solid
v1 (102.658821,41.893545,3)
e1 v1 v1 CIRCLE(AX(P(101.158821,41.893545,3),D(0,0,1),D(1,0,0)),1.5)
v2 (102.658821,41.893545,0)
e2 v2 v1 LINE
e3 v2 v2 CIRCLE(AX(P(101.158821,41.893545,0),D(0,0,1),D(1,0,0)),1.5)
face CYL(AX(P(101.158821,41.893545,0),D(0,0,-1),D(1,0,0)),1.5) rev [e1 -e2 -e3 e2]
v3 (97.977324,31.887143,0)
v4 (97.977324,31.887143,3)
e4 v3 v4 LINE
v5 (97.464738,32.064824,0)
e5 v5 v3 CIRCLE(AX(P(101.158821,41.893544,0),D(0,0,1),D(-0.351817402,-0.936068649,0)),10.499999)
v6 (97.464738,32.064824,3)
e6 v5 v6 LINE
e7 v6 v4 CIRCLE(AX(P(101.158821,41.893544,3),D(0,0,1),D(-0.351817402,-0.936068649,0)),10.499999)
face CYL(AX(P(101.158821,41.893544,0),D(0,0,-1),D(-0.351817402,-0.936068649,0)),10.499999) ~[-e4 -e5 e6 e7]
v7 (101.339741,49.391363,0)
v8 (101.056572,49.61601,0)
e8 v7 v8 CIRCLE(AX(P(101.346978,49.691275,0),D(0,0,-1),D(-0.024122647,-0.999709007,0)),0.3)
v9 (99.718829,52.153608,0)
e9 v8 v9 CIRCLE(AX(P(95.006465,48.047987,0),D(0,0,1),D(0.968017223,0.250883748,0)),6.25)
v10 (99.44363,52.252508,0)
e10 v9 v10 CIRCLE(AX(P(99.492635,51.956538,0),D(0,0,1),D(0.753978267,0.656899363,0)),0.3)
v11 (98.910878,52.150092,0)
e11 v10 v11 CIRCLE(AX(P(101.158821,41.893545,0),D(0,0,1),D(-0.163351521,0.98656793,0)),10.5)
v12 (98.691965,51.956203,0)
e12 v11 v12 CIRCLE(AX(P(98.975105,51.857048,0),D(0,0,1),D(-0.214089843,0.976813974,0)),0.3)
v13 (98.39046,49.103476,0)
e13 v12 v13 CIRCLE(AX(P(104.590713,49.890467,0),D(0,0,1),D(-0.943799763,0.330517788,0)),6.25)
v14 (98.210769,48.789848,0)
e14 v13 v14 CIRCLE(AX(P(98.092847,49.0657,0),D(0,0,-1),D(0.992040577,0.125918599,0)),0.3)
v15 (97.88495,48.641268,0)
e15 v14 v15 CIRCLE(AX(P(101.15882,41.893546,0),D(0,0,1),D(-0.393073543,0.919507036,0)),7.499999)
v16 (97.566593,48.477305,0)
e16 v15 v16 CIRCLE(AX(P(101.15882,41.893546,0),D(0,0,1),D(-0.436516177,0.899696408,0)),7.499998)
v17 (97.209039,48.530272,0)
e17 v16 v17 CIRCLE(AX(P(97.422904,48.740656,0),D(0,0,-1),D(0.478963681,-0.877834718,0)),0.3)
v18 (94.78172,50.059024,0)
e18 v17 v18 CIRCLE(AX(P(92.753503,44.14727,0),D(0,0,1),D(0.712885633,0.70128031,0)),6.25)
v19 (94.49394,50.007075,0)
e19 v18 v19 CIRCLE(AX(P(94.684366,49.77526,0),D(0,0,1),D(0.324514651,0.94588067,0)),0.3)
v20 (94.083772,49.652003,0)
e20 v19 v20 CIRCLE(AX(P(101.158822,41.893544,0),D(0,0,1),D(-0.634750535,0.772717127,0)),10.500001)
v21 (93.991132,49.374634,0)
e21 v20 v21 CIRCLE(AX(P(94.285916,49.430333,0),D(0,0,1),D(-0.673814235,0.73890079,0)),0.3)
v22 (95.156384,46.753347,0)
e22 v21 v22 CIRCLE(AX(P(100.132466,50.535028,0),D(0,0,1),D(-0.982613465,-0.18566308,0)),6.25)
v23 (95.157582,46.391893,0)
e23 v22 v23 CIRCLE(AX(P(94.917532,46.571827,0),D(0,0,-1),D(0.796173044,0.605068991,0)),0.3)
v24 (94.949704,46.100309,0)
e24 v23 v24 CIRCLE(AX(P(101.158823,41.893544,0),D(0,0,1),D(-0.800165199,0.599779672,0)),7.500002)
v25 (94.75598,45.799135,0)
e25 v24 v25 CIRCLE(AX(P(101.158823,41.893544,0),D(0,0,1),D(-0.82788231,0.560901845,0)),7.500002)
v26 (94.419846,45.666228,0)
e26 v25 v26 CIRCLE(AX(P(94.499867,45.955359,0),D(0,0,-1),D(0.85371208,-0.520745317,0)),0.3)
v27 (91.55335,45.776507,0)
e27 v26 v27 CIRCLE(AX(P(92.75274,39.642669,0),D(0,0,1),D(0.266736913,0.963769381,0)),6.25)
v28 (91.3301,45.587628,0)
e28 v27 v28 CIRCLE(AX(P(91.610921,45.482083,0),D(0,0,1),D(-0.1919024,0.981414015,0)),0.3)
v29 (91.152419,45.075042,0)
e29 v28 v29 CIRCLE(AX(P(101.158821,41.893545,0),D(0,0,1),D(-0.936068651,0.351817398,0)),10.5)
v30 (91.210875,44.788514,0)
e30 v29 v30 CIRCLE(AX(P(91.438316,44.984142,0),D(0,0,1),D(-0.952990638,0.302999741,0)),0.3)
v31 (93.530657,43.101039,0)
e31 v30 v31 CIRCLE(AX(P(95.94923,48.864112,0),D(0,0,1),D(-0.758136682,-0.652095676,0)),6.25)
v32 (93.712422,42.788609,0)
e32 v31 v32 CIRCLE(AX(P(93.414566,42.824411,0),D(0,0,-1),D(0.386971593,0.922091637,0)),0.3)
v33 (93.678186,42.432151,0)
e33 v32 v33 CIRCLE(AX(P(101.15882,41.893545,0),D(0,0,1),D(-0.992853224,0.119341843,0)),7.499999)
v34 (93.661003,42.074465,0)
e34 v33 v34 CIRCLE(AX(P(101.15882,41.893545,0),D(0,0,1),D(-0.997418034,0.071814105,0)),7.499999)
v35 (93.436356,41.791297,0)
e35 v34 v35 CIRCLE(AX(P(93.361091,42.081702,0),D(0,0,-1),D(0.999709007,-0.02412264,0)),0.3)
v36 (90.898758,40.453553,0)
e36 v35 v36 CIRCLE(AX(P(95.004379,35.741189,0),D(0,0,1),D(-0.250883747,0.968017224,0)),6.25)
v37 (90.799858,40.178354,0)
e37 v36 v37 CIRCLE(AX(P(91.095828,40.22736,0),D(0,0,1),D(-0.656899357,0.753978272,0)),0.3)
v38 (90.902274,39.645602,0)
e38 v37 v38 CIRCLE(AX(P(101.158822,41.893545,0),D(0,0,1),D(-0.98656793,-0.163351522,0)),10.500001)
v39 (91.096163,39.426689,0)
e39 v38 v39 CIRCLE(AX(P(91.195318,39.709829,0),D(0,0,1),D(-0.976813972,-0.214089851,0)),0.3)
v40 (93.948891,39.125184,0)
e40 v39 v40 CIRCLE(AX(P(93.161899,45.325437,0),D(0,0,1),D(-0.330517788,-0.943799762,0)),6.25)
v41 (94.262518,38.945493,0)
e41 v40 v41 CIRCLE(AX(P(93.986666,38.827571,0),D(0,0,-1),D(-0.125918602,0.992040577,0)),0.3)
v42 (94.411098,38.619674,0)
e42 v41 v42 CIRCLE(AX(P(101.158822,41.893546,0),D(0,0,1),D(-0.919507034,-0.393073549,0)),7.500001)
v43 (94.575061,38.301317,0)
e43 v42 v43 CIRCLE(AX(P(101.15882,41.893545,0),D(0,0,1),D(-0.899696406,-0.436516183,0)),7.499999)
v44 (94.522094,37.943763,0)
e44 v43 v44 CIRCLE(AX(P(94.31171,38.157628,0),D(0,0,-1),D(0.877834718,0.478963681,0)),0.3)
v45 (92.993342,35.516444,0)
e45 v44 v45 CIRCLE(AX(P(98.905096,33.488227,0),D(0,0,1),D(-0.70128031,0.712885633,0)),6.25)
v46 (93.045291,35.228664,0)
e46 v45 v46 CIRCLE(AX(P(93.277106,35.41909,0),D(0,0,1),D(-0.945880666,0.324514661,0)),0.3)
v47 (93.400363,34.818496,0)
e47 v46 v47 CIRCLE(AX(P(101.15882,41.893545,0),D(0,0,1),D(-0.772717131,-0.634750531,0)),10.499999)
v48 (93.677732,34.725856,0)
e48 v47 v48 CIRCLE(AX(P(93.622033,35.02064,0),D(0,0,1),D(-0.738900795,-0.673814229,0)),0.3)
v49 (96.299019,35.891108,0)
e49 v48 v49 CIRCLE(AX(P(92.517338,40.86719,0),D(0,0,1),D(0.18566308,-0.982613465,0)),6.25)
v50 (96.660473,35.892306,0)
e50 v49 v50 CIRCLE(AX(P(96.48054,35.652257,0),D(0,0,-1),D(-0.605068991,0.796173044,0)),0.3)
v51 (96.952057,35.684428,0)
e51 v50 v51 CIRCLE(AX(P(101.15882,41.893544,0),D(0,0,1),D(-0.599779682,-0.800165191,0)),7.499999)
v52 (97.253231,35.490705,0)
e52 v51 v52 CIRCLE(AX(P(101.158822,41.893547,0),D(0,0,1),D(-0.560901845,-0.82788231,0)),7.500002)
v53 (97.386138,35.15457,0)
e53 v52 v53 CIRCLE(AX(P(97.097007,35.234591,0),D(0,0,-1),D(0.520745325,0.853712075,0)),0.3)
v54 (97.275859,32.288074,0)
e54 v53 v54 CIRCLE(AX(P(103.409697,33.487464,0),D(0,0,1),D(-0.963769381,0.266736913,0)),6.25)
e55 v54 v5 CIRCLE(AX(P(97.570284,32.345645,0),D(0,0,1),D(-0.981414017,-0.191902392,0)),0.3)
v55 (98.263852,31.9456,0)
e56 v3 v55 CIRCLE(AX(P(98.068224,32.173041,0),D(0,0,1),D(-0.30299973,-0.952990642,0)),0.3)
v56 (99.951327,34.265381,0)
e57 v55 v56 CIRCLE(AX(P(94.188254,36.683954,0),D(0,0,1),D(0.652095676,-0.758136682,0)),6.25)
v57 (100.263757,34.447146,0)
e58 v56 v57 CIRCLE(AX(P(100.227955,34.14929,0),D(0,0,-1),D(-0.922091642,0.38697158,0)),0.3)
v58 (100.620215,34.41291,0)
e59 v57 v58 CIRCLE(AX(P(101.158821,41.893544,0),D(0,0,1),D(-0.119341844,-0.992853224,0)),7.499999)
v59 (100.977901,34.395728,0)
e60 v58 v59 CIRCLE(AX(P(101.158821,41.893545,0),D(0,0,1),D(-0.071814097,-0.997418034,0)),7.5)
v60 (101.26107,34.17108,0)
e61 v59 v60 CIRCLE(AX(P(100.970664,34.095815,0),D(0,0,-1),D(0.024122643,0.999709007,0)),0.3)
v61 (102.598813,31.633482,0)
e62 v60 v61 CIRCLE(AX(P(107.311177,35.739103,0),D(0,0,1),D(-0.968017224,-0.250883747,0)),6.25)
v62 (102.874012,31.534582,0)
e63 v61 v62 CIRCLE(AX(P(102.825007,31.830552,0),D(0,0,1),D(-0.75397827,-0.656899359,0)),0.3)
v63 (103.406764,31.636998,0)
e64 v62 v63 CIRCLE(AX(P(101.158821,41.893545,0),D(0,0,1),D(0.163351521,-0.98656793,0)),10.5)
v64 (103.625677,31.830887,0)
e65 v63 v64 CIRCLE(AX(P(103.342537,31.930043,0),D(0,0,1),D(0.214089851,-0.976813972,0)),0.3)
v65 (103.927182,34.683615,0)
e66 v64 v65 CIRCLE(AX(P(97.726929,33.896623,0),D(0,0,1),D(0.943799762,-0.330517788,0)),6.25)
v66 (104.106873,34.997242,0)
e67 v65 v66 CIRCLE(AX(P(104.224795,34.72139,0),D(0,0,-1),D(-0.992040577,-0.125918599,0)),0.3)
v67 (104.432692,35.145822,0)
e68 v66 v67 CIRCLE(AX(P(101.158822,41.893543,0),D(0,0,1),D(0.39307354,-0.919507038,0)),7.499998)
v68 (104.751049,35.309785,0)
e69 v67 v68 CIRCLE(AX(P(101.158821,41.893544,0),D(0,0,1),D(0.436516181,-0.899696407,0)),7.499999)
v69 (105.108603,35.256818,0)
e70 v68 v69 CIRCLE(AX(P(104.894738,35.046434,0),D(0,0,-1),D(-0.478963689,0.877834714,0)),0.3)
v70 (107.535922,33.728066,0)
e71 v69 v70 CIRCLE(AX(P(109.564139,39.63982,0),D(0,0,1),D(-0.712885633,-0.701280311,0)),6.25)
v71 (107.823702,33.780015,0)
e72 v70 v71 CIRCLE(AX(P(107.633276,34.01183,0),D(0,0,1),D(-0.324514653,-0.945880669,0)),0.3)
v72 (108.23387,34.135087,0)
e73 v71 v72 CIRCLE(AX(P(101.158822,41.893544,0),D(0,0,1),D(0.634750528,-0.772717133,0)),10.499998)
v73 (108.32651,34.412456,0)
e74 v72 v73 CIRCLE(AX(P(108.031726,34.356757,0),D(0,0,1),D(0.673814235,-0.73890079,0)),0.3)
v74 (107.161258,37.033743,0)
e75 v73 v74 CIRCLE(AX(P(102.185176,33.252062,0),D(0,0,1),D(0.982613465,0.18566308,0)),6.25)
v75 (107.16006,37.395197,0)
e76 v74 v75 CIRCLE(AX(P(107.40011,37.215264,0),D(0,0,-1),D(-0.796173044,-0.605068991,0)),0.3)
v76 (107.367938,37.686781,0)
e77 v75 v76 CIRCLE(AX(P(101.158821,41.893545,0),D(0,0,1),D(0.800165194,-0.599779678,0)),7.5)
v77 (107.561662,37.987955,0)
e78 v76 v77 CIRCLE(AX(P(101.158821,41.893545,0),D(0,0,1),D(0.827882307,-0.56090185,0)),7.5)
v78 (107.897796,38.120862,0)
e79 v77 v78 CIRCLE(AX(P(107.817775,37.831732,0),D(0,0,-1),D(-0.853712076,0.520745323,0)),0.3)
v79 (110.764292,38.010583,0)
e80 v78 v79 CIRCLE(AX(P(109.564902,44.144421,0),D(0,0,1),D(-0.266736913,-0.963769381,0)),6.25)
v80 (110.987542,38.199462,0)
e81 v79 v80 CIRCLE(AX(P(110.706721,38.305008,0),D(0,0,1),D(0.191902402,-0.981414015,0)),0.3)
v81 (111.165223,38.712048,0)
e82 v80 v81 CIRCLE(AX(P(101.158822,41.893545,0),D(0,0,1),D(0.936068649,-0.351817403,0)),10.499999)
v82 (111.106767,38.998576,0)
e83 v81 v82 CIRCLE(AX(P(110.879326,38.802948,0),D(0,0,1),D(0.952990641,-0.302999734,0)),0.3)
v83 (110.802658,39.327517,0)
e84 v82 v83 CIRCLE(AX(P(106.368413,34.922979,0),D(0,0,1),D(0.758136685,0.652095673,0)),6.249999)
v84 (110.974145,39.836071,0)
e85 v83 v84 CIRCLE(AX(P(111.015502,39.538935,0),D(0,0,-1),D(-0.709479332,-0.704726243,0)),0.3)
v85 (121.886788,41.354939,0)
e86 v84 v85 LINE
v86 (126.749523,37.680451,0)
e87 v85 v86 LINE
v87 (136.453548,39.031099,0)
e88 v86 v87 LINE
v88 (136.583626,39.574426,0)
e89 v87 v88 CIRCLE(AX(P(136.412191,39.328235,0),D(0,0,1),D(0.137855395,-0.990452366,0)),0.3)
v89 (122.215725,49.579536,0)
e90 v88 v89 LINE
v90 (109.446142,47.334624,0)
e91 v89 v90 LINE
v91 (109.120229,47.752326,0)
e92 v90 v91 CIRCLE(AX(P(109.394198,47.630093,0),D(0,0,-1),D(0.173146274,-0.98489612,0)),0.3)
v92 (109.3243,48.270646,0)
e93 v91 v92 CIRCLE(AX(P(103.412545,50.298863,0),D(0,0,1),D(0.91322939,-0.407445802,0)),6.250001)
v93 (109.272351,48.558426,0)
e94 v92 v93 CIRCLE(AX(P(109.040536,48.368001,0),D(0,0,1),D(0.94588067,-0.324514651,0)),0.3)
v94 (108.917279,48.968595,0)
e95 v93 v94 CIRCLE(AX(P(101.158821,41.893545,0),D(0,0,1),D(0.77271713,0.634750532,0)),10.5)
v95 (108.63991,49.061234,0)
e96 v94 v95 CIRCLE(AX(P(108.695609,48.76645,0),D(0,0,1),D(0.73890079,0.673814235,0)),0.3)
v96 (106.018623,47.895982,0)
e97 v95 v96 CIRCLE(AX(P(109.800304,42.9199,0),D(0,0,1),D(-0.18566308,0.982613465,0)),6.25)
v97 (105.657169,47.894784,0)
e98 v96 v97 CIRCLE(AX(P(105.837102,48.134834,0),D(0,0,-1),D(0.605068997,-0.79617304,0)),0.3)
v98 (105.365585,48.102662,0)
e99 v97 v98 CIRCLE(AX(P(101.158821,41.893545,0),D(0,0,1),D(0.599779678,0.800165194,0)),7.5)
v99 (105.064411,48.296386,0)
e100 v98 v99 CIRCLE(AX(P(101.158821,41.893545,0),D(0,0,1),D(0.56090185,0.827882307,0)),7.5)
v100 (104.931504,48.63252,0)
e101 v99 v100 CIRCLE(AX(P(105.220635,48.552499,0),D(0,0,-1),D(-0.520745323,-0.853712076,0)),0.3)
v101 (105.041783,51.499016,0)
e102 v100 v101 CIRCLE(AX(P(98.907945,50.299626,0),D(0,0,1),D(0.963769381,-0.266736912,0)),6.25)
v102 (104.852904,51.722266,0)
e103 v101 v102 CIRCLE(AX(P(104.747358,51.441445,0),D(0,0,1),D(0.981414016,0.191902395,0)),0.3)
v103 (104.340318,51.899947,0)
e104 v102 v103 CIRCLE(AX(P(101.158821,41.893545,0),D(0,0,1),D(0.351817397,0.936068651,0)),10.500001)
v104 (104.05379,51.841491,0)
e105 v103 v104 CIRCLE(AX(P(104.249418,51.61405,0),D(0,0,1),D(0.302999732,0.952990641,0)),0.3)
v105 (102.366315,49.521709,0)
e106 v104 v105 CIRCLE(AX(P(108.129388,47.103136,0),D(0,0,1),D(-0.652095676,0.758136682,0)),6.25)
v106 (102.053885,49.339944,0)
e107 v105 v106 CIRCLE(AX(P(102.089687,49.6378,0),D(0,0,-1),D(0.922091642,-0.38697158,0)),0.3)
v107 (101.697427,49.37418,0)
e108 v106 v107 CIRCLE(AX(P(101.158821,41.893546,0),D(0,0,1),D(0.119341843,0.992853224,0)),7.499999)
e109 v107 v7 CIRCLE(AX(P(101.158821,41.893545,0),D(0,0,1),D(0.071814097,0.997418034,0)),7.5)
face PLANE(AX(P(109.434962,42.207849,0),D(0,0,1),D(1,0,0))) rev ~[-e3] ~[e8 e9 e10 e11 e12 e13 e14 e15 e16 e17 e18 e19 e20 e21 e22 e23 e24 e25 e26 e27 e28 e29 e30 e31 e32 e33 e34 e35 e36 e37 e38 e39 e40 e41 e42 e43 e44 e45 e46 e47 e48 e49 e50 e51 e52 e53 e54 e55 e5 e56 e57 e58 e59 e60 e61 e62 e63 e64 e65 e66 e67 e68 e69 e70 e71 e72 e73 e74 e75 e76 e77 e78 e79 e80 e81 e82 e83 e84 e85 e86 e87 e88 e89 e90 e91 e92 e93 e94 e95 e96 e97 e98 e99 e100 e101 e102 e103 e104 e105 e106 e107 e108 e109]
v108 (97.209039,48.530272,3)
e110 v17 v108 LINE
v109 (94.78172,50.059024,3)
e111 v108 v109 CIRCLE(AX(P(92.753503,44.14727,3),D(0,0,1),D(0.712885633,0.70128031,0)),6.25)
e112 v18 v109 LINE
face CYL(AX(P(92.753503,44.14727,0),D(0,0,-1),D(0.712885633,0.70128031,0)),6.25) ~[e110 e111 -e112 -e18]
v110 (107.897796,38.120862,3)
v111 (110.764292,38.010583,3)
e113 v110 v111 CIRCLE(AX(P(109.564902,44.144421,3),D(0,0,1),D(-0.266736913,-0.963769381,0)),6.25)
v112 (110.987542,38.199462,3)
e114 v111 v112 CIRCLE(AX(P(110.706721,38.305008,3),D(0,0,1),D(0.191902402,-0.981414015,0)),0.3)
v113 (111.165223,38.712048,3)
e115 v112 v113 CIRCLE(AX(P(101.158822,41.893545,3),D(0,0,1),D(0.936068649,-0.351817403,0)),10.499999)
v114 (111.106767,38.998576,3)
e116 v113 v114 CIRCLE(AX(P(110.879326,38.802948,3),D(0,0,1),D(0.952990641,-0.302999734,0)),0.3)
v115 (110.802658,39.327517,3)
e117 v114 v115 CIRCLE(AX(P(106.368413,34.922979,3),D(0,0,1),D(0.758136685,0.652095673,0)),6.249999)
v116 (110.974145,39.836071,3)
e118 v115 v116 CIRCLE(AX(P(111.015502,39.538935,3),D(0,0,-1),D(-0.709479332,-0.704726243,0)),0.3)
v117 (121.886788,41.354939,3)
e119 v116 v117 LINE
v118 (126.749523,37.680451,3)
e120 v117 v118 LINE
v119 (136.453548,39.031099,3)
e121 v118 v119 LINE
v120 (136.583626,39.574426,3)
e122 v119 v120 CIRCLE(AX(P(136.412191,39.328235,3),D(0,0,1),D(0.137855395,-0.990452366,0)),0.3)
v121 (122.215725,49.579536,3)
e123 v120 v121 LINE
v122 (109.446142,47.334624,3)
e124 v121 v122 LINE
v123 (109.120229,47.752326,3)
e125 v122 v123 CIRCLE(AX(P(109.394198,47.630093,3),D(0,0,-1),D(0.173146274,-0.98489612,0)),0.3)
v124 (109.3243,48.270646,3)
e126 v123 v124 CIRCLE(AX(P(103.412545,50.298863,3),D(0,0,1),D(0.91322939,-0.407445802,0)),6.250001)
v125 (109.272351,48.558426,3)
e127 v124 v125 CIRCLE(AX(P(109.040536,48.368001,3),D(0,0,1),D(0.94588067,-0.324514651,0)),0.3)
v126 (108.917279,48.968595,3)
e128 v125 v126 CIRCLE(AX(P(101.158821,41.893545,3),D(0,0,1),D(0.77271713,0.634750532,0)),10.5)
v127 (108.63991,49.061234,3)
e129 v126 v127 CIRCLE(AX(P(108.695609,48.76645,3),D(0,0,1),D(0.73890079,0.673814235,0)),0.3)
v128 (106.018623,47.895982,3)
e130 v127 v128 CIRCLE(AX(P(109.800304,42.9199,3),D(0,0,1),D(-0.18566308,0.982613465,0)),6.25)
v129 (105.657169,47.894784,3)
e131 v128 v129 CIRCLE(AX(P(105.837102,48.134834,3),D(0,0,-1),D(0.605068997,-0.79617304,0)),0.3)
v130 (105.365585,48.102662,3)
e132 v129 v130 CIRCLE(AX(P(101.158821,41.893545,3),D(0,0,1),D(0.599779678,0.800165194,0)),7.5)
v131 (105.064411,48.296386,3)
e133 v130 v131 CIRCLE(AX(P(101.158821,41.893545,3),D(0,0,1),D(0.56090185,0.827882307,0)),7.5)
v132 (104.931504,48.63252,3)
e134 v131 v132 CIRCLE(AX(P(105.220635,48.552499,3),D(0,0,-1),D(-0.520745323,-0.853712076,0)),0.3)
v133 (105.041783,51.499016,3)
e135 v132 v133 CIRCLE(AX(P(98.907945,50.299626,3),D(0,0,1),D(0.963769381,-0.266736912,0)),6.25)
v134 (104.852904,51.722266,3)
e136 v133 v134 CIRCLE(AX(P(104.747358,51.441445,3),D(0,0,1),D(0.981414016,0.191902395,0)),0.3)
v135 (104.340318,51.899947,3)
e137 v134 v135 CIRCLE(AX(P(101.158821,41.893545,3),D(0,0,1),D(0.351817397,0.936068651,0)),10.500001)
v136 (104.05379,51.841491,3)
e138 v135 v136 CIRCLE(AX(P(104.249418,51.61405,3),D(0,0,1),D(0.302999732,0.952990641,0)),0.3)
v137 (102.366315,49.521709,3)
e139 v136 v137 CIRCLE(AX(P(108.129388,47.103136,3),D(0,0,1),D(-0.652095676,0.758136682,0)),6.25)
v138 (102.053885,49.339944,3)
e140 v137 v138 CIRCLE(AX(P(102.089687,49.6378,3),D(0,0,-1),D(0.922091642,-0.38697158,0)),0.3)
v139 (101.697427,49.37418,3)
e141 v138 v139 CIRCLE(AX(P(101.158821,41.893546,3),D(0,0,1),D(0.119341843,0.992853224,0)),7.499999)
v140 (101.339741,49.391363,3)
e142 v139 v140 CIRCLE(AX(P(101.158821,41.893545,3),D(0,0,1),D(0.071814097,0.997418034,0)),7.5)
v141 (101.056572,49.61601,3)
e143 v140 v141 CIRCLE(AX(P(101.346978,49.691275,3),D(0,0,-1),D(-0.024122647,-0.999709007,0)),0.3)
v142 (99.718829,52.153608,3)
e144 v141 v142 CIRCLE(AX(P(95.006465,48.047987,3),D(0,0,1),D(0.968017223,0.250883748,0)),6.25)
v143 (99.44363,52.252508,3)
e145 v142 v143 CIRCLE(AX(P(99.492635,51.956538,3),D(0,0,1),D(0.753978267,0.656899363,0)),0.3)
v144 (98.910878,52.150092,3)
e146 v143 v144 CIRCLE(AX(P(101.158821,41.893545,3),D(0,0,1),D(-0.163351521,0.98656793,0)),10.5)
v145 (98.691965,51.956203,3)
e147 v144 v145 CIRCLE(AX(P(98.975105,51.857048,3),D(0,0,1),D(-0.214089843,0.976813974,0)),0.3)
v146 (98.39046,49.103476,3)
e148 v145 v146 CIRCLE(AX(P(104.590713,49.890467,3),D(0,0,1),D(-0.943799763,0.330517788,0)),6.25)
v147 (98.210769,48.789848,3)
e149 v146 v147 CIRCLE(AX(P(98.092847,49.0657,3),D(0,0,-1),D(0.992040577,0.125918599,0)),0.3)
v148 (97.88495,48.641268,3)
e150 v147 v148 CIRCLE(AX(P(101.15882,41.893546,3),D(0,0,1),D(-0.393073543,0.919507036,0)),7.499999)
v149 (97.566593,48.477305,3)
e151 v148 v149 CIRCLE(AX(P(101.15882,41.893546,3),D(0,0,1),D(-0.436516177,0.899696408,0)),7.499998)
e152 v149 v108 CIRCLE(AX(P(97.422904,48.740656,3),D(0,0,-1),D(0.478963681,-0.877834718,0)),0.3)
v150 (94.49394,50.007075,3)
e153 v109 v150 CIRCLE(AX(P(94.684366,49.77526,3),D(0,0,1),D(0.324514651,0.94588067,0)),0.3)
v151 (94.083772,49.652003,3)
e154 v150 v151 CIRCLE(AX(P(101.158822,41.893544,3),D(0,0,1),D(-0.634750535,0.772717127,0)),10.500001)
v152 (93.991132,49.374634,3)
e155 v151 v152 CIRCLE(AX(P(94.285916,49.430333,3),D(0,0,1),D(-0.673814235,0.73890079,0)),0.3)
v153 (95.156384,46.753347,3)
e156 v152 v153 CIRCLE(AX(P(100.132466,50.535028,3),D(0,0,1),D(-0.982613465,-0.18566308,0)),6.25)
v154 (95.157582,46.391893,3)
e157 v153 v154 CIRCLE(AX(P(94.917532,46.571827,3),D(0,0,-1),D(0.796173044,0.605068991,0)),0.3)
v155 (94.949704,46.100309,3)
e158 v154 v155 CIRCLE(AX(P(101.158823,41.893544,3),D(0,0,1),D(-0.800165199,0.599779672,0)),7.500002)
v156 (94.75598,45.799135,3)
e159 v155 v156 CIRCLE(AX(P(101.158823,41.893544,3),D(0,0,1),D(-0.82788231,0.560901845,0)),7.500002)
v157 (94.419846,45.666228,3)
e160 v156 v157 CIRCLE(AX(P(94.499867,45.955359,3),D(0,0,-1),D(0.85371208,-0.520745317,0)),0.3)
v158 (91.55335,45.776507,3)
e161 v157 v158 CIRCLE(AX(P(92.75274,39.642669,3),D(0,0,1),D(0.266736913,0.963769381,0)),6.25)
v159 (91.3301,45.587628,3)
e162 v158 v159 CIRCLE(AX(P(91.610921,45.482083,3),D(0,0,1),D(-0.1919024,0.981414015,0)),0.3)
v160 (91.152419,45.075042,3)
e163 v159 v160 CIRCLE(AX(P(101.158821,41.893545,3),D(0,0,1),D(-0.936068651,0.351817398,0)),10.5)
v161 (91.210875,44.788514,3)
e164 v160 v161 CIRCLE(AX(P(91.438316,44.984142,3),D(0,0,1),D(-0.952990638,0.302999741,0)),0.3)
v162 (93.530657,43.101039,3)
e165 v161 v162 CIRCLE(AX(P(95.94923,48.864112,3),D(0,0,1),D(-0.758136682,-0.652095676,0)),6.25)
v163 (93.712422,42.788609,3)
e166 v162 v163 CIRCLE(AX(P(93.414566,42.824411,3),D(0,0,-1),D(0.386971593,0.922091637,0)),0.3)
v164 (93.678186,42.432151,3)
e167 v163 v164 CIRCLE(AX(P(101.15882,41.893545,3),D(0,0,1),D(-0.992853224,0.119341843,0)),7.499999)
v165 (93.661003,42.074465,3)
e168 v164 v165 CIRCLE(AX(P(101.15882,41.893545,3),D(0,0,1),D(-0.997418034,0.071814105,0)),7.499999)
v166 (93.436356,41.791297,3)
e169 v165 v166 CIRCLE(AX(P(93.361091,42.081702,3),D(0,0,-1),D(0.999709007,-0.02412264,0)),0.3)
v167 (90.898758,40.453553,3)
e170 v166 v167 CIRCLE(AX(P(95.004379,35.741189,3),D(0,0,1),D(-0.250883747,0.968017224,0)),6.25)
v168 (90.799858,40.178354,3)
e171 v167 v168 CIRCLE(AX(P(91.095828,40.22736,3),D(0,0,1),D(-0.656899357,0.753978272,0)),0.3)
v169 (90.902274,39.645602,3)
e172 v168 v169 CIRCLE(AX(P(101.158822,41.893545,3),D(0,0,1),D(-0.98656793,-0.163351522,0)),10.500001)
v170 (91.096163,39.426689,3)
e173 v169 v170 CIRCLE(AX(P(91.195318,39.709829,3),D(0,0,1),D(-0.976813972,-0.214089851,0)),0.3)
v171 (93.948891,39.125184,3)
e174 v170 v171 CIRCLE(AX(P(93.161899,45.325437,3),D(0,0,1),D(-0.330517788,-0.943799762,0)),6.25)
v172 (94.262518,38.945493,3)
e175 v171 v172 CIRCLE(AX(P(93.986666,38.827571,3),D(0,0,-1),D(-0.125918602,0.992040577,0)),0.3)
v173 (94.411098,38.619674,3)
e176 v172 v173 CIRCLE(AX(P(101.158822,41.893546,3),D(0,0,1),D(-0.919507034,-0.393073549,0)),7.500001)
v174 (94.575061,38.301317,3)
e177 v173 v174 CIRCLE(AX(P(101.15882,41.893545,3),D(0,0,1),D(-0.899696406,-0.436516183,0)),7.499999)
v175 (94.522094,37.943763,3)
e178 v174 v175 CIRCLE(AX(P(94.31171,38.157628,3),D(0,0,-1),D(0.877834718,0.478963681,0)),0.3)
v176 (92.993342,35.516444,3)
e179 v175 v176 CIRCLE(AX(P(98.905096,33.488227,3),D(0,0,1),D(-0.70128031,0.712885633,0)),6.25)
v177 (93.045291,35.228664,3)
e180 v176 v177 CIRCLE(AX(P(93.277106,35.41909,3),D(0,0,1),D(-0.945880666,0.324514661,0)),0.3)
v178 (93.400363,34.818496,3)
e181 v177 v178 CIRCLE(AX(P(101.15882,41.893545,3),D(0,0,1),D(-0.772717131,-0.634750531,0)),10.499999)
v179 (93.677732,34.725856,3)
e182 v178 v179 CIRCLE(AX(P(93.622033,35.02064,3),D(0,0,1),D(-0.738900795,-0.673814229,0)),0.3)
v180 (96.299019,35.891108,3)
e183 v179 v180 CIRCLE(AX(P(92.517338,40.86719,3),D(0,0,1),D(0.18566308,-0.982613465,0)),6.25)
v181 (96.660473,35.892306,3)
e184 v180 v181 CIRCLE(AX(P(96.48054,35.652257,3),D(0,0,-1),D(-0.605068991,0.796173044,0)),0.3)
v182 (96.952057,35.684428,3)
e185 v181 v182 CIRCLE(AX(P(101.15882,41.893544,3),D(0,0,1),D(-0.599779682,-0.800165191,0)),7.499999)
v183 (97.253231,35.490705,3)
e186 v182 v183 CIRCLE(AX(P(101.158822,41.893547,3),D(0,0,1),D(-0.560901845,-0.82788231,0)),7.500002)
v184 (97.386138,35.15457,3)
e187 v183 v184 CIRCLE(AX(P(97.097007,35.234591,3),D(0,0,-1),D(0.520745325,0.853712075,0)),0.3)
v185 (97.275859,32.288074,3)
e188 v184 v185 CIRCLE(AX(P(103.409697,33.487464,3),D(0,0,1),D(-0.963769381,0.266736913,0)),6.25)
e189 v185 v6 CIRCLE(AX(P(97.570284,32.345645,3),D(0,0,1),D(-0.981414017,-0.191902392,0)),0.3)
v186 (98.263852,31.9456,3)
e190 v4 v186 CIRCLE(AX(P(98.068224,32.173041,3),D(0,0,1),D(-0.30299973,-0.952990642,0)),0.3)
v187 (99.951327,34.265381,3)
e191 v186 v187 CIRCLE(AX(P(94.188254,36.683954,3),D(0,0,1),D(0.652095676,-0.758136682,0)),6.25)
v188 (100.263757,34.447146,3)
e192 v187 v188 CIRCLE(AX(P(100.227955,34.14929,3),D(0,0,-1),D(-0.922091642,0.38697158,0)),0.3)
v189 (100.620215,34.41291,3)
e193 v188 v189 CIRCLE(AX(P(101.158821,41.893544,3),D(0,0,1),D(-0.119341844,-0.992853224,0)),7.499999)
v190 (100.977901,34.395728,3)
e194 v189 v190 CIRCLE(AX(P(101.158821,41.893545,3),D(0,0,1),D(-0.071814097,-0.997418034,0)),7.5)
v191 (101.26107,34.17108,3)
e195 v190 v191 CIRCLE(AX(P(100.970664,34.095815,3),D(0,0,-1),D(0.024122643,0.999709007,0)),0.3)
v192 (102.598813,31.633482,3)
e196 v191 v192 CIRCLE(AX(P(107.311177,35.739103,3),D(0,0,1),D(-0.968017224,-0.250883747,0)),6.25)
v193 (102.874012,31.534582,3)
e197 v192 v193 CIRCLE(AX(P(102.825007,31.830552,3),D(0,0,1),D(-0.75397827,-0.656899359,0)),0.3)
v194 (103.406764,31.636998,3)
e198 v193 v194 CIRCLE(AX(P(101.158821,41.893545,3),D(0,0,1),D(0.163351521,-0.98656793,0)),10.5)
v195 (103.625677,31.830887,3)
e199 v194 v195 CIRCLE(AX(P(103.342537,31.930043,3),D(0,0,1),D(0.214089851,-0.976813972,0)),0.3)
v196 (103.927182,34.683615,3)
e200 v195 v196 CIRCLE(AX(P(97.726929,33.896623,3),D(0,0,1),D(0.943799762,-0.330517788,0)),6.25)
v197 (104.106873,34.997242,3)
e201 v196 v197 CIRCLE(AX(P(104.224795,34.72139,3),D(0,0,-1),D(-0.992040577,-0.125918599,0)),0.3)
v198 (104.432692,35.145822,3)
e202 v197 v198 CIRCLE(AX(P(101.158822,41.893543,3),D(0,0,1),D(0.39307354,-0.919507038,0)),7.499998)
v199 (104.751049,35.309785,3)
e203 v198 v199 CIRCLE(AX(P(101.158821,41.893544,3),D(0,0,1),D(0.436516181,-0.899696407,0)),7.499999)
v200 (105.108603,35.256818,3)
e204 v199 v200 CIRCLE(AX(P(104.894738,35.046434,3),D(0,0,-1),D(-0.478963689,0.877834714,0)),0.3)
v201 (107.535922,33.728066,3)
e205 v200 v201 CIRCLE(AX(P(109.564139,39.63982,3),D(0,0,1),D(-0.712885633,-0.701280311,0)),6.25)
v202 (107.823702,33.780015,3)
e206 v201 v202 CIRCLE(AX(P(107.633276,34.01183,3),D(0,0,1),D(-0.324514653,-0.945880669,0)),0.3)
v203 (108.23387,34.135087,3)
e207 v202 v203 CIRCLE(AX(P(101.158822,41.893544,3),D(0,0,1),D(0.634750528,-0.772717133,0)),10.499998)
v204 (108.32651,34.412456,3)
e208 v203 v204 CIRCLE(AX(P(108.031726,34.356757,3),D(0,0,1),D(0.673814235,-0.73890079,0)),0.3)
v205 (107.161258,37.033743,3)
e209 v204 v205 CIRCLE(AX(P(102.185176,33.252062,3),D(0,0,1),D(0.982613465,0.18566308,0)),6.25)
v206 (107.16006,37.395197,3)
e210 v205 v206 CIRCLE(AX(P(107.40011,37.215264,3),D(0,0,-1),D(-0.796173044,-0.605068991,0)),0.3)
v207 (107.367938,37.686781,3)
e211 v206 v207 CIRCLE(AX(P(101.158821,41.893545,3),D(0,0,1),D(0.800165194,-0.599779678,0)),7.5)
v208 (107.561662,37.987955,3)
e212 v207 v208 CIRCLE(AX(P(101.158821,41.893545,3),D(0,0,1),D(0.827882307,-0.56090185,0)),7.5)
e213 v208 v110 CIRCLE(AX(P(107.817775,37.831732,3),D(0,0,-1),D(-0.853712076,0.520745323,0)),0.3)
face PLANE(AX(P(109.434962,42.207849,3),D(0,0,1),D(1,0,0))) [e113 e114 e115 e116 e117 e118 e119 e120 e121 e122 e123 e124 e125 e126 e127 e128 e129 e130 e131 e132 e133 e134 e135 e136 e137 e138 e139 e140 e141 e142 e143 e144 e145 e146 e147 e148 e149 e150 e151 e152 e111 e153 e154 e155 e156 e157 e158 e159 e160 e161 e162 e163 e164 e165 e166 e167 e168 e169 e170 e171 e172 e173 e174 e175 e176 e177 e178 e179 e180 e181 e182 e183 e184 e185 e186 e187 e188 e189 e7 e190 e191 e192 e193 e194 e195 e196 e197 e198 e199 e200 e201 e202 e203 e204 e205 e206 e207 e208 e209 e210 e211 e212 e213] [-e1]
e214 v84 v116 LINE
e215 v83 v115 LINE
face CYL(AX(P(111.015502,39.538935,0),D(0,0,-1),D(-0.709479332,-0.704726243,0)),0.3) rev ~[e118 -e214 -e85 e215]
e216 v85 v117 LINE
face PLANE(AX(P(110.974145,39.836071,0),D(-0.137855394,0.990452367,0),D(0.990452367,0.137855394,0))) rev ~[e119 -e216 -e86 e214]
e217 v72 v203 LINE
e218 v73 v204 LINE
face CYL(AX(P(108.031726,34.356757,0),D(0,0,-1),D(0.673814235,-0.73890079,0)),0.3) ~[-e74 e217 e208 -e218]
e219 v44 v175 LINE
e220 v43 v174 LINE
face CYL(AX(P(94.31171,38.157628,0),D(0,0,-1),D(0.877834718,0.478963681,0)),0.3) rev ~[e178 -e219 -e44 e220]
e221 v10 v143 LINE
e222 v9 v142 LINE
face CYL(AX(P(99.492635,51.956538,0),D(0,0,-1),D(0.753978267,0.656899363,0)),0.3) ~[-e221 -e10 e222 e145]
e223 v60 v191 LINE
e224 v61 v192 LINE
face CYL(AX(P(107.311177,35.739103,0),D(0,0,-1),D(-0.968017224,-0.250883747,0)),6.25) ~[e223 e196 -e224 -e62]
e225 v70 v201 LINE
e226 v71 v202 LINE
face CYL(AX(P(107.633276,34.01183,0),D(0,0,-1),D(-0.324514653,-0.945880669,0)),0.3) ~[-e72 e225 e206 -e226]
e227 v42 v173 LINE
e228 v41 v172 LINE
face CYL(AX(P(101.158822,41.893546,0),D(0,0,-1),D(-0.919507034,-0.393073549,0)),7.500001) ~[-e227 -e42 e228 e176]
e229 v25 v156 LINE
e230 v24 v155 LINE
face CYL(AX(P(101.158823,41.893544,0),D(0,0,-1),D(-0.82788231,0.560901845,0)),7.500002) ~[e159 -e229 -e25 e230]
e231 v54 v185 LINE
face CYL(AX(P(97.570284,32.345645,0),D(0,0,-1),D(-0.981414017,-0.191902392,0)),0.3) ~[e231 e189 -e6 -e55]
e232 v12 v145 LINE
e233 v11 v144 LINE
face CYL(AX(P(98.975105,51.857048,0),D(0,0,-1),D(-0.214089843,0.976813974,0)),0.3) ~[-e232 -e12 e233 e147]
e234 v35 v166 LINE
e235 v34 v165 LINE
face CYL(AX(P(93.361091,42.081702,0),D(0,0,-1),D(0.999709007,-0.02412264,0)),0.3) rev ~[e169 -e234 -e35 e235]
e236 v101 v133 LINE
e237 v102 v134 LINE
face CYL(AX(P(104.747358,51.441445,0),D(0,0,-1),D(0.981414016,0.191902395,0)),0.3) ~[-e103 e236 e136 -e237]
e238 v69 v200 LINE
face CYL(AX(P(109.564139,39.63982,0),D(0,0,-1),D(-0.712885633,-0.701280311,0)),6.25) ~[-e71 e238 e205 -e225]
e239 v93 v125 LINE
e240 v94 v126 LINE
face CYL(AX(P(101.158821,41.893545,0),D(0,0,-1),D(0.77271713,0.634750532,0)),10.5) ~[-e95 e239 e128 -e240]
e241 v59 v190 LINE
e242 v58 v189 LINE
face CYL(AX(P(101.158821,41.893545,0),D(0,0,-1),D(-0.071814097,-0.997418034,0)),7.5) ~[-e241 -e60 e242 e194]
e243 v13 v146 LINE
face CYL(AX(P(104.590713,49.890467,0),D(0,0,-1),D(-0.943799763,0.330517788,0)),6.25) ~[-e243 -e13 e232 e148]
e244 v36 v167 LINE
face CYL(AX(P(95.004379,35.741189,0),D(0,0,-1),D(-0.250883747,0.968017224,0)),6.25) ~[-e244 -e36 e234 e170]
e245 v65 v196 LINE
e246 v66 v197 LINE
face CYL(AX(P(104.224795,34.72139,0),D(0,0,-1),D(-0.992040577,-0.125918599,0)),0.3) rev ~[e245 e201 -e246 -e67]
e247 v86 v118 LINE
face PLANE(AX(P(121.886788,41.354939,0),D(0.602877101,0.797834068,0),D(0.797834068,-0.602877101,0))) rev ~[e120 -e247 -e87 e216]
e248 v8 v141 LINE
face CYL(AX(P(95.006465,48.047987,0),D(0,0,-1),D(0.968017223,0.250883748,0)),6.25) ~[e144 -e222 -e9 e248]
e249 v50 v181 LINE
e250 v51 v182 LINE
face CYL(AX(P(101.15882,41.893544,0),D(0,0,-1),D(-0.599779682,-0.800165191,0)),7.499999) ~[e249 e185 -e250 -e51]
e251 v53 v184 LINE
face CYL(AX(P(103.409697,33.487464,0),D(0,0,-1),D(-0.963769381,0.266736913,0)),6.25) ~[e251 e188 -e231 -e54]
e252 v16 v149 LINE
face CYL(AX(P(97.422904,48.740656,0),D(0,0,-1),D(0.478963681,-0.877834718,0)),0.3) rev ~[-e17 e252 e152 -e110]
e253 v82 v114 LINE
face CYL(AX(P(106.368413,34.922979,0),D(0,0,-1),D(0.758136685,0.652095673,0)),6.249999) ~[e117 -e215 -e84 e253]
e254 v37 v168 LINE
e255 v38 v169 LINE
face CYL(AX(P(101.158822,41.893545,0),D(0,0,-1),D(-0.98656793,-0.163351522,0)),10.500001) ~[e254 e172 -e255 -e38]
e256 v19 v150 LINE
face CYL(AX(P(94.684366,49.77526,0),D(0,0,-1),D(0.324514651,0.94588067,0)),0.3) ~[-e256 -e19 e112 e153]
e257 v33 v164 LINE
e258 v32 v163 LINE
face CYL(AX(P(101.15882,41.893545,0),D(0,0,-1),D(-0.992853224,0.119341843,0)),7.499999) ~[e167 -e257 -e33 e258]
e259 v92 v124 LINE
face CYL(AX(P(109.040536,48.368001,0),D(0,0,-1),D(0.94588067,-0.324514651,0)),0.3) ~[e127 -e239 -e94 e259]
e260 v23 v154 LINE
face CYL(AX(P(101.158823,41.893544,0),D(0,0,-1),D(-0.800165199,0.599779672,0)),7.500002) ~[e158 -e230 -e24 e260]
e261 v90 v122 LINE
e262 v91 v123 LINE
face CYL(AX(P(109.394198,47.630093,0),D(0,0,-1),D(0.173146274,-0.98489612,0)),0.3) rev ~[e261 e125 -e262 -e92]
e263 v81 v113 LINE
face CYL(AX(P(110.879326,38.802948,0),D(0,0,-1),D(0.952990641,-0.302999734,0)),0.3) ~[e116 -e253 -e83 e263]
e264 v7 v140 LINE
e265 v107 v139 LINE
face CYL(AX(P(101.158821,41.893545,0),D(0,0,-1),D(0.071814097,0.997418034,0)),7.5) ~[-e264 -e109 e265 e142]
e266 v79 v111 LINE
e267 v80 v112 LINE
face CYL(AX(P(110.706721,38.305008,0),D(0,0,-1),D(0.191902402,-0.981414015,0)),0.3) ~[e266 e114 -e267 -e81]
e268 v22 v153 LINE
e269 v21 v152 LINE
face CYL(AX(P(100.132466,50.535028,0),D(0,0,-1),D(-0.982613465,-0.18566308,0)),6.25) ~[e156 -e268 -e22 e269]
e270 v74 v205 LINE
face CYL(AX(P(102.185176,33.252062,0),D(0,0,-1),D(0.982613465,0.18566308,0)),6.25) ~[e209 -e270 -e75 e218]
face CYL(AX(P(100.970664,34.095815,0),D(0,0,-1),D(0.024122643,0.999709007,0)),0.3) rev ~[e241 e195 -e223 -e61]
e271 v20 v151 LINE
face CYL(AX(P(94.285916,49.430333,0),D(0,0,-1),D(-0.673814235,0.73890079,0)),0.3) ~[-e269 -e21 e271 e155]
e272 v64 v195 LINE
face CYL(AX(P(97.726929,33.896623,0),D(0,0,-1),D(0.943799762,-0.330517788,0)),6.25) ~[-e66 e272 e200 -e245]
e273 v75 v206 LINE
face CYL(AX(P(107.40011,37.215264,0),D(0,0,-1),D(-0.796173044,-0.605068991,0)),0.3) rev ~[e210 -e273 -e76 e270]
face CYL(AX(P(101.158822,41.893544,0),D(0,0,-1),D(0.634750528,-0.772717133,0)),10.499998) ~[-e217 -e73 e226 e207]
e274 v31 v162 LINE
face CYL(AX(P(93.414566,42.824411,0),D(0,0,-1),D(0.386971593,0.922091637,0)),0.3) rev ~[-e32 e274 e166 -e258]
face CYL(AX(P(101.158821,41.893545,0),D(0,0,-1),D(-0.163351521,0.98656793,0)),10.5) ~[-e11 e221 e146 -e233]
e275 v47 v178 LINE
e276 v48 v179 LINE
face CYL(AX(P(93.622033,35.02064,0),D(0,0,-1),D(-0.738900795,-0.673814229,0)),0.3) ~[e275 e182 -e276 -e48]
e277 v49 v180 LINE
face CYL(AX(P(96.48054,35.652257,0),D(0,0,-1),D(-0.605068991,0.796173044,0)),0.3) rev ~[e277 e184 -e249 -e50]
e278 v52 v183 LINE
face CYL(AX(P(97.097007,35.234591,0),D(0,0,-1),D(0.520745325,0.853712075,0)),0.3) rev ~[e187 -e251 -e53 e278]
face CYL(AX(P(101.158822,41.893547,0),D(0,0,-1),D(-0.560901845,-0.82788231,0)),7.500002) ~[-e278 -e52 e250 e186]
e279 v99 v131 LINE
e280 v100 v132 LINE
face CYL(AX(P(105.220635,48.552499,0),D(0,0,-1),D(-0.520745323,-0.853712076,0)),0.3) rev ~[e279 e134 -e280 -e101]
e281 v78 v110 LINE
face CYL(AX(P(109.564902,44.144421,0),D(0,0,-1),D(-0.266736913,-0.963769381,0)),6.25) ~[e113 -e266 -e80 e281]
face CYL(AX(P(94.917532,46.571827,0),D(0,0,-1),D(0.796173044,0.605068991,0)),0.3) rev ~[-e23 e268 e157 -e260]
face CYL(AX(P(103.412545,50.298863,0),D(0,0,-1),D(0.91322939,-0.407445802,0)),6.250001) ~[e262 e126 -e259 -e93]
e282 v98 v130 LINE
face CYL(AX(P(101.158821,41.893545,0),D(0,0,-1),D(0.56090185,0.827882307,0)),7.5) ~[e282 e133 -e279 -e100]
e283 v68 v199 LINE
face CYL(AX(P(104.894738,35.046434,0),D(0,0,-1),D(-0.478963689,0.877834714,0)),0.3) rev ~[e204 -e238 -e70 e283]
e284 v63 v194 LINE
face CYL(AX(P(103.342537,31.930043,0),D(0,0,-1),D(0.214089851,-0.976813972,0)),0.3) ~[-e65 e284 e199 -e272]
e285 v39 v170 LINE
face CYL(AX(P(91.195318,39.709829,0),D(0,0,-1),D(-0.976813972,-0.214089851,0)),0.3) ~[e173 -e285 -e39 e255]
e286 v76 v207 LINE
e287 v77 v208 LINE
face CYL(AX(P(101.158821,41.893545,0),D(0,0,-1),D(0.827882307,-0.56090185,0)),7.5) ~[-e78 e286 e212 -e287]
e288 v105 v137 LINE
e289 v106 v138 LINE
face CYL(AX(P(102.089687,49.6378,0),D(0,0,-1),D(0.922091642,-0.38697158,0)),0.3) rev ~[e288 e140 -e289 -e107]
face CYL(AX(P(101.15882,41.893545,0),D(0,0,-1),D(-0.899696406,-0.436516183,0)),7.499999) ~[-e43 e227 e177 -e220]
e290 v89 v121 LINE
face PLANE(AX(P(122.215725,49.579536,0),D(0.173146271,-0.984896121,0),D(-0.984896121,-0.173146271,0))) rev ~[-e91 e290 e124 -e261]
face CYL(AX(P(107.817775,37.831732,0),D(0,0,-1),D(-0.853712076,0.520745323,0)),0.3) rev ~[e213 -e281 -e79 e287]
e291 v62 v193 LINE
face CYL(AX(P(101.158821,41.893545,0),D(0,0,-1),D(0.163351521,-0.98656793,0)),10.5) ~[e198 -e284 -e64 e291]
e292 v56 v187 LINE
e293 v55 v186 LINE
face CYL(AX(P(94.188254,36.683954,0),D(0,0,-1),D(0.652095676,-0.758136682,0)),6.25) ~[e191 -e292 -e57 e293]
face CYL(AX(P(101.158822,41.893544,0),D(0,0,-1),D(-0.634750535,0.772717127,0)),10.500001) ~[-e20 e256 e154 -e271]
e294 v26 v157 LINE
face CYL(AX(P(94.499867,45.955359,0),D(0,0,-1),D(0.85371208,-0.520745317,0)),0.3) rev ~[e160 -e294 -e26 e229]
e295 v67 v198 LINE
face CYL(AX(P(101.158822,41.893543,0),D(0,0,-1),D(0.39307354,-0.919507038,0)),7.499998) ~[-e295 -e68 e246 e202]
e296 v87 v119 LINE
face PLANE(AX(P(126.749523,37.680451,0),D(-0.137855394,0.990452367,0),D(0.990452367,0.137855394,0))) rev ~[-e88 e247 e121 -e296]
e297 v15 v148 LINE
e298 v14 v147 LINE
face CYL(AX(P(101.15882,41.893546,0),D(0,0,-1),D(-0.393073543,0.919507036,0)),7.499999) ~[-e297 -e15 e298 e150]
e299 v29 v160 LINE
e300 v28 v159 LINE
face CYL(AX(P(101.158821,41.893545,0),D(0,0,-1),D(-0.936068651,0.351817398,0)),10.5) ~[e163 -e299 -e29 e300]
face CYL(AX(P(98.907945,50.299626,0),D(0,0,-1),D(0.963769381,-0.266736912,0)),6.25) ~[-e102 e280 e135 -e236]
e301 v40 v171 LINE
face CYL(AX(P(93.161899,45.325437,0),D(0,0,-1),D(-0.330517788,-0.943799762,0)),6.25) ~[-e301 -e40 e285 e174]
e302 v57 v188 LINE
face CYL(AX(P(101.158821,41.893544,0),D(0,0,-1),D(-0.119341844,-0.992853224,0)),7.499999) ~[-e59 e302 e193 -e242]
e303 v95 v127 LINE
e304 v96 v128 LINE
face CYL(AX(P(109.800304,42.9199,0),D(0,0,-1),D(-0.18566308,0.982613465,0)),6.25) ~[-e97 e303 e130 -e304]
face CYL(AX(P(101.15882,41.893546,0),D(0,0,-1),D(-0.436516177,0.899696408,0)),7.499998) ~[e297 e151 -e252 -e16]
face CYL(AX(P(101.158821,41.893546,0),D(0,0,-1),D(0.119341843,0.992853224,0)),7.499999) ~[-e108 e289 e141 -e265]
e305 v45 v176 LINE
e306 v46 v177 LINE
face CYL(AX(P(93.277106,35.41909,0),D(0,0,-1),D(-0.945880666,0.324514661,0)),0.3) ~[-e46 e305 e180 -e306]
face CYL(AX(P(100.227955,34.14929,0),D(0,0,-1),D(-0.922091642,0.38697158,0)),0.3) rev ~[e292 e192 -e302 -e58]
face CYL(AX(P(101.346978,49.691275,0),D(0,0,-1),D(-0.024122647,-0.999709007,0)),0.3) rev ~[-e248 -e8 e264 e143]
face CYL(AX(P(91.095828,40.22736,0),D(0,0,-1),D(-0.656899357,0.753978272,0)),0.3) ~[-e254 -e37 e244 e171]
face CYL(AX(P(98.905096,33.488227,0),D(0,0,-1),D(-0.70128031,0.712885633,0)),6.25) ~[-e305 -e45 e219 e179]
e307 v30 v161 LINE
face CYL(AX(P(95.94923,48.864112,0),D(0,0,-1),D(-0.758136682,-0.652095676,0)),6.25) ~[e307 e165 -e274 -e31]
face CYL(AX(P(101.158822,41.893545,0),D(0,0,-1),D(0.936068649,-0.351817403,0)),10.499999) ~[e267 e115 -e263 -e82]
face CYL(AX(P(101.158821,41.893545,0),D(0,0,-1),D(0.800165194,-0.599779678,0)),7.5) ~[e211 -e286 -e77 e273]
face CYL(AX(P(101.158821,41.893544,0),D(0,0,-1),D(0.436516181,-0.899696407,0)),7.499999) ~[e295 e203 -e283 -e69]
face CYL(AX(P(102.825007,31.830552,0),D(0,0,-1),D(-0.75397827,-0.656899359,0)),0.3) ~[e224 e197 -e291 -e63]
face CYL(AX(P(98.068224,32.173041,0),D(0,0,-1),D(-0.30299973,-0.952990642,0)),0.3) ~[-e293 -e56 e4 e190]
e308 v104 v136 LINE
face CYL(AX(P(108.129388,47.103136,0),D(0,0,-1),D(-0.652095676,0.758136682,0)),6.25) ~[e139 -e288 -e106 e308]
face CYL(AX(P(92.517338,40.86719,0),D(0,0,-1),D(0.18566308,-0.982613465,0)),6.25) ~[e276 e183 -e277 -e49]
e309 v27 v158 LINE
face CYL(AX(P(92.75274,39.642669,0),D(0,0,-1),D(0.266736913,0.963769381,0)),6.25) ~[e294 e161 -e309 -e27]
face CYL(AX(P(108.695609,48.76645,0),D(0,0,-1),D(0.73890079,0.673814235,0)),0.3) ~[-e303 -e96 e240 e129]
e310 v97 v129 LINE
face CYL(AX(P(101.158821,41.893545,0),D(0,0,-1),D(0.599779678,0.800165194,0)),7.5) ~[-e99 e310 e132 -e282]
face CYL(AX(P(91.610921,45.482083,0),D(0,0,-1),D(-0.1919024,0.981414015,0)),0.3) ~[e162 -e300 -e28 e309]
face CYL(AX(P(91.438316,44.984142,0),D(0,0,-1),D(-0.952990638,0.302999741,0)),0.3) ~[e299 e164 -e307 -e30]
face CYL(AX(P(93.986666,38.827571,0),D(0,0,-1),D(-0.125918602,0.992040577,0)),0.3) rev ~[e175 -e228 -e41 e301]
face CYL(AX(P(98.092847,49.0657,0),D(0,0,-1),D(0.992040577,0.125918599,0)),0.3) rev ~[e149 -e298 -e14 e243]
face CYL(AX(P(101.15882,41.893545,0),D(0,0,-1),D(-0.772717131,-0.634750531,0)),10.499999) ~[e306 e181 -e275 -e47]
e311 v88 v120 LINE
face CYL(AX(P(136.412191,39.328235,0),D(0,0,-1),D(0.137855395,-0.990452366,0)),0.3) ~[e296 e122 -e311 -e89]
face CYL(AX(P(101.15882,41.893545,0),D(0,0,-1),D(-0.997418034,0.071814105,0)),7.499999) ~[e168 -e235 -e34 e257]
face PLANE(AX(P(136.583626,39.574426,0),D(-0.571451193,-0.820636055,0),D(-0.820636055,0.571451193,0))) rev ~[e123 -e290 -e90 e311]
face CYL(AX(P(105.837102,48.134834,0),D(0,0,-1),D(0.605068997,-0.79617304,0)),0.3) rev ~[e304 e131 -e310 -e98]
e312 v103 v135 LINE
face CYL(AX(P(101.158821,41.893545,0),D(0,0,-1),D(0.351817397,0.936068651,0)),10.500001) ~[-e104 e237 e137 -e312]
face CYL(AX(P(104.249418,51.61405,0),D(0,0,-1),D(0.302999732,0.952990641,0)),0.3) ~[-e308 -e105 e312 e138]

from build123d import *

# Parameters (mm, degrees)
ESQUISSE20_R        = 1.5
BOSS_EXTRU_18_DEPTH = 3


with BuildPart() as part:
    # Esquisse20 → Boss.-Extru.18 (new body)
    with BuildSketch(Plane.XY):
        with BuildLine():
            Line((110.974145272, 39.836071078), (121.886788051, 41.354939341))
            Line((121.886788051, 41.354939341), (126.749523122, 37.68045145))
            Line((126.749523122, 37.68045145), (136.453547574, 39.031099049))
            ThreePointArc((136.453547574, 39.031099049), (136.70394605, 39.25838517), (136.583626314, 39.574425576))
            Line((136.583626314, 39.574425576), (122.215724565, 49.579536305))
            Line((122.215724565, 49.579536305), (109.446142116, 47.334623838))
            ThreePointArc((109.446142116, 47.334623838), (109.157676293, 47.445546281), (109.120229419, 47.752326416))
            ThreePointArc((109.120229419, 47.752326416), (109.228042095, 48.009211598), (109.32429992, 48.270646104))
            ThreePointArc((109.32429992, 48.270646104), (109.335764075, 48.421294196), (109.272350858, 48.558425661))
            ThreePointArc((109.272350858, 48.558425661), (109.097464559, 48.765803687), (108.917279288, 48.968594544))
            ThreePointArc((108.917279288, 48.968594544), (108.79064668, 49.050998774), (108.639910127, 49.061234313))
            ThreePointArc((108.639910127, 49.061234313), (107.261509219, 48.631031321), (106.01862318, 47.895981682))
            ThreePointArc((106.01862318, 47.895981682), (105.838096498, 47.834835241), (105.657168579, 47.894784036))
            ThreePointArc((105.657168579, 47.894784036), (105.512617586, 48.000463717), (105.365584876, 48.10266238))
            ThreePointArc((105.365584876, 48.10266238), (105.21615426, 48.20132177), (105.064410914, 48.296385651))
            ThreePointArc((105.064410914, 48.296385651), (104.94165105, 48.44218958), (104.931503697, 48.632520348))
            ThreePointArc((104.931503697, 48.632520348), (105.15332497, 50.059355658), (105.041782665, 51.499016031))
            ThreePointArc((105.041782665, 51.499016031), (104.976386869, 51.635213184), (104.85290368, 51.722265908))
            ThreePointArc((104.85290368, 51.722265908), (104.597758689, 51.814417397), (104.340318239, 51.899946795))
            ThreePointArc((104.340318239, 51.899946795), (104.189449068, 51.907994647), (104.053789615, 51.841490608))
            ThreePointArc((104.053789615, 51.841490608), (103.075160908, 50.779723434), (102.366314843, 49.521708754))
            ThreePointArc((102.366314843, 49.521708754), (102.240547371, 49.378491042), (102.053884799, 49.339944262))
            ThreePointArc((102.053884799, 49.339944262), (101.875860127, 49.359190054), (101.697426734, 49.374180337))
            ThreePointArc((101.697426734, 49.374180337), (101.518686329, 49.384906567), (101.339740796, 49.39136263))
            ThreePointArc((101.339740796, 49.39136263), (101.160525671, 49.456252605), (101.056572421, 49.616010208))
            ThreePointArc((101.056572421, 49.616010208), (100.535257624, 50.96259647), (99.718828968, 52.153607774))
            ThreePointArc((99.718828968, 52.153607774), (99.59409597, 52.23886007), (99.44363003, 52.252508346))
            ThreePointArc((99.44363003, 52.252508346), (99.176592242, 52.204741381), (98.910877573, 52.150091787))
            ThreePointArc((98.910877573, 52.150091787), (98.776197112, 52.081626847), (98.691964599, 51.956202932))
            ThreePointArc((98.691964599, 51.956202932), (98.375330865, 50.547371233), (98.390459505, 49.10347553))
            ThreePointArc((98.390459505, 49.10347553), (98.353150535, 48.916561617), (98.210769396, 48.78984784))
            ThreePointArc((98.210769396, 48.78984784), (98.046972612, 48.717502849), (97.884949619, 48.641268118))
            ThreePointArc((97.884949619, 48.641268118), (97.724792772, 48.561187104), (97.566593363, 48.477305452))
            ThreePointArc((97.566593363, 48.477305452), (97.378943525, 48.443894256), (97.209038568, 48.530271774))
            ThreePointArc((97.209038568, 48.530271774), (96.08427358, 49.435792287), (94.781719971, 50.059024004))
            ThreePointArc((94.781719971, 50.059024004), (94.631071878, 50.070488159), (94.493940414, 50.007074943))
            ThreePointArc((94.493940414, 50.007074943), (94.286562388, 49.832188643), (94.083771531, 49.652003372))
            ThreePointArc((94.083771531, 49.652003372), (94.001367301, 49.525370764), (93.991131762, 49.374634211))
            ThreePointArc((93.991131762, 49.374634211), (94.421334754, 47.996233303), (95.156384393, 46.753347264))
            ThreePointArc((95.156384393, 46.753347264), (95.217530833, 46.572820582), (95.157582038, 46.391892663))
            ThreePointArc((95.157582038, 46.391892663), (95.051902358, 46.24734167), (94.949703695, 46.100308961))
            ThreePointArc((94.949703695, 46.100308961), (94.851044305, 45.950878344), (94.755980424, 45.799134999))
            ThreePointArc((94.755980424, 45.799134999), (94.610176495, 45.676375134), (94.419845727, 45.666227781))
            ThreePointArc((94.419845727, 45.666227781), (92.993010417, 45.888049055), (91.553350043, 45.77650675))
            ThreePointArc((91.553350043, 45.77650675), (91.417152891, 45.711110954), (91.330100167, 45.587627765))
            ThreePointArc((91.330100167, 45.587627765), (91.237948678, 45.332482774), (91.15241928, 45.075042323))
            ThreePointArc((91.15241928, 45.075042323), (91.144371427, 44.924173153), (91.210875467, 44.788513699))
            ThreePointArc((91.210875467, 44.788513699), (92.272642641, 43.809884992), (93.530657321, 43.101038928))
            ThreePointArc((93.530657321, 43.101038928), (93.673875032, 42.975271455), (93.712421813, 42.788608884))
            ThreePointArc((93.712421813, 42.788608884), (93.693176021, 42.610584211), (93.678185738, 42.432150818))
            ThreePointArc((93.678185738, 42.432150818), (93.667459507, 42.253410413), (93.661003444, 42.07446488))
            ThreePointArc((93.661003444, 42.07446488), (93.59611347, 41.895249755), (93.436355867, 41.791296505))
            ThreePointArc((93.436355867, 41.791296505), (92.089769605, 41.269981709), (90.8987583, 40.453553052))
            ThreePointArc((90.8987583, 40.453553052), (90.813506004, 40.328820055), (90.799857729, 40.178354115))
            ThreePointArc((90.799857729, 40.178354115), (90.847624694, 39.911316326), (90.902274287, 39.645601657))
            ThreePointArc((90.902274287, 39.645601657), (90.970739228, 39.510921196), (91.096163143, 39.426688683))
            ThreePointArc((91.096163143, 39.426688683), (92.504994842, 39.110054949), (93.948890545, 39.12518359))
            ThreePointArc((93.948890545, 39.12518359), (94.135804458, 39.08787462), (94.262518234, 38.945493481))
            ThreePointArc((94.262518234, 38.945493481), (94.334863226, 38.781696696), (94.411097956, 38.619673703))
            ThreePointArc((94.411097956, 38.619673703), (94.491178971, 38.459516856), (94.575060623, 38.301317448))
            ThreePointArc((94.575060623, 38.301317448), (94.608471819, 38.113667609), (94.522094301, 37.943762652))
            ThreePointArc((94.522094301, 37.943762652), (93.616573788, 36.818997664), (92.993342071, 35.516444055))
            ThreePointArc((92.993342071, 35.516444055), (92.981877915, 35.365795963), (93.045291132, 35.228664498))
            ThreePointArc((93.045291132, 35.228664498), (93.220177431, 35.021286472), (93.400362702, 34.818495616))
            ThreePointArc((93.400362702, 34.818495616), (93.526995311, 34.736091385), (93.677731863, 34.725855847))
            ThreePointArc((93.677731863, 34.725855847), (95.056132772, 35.156058839), (96.299018811, 35.891108478))
            ThreePointArc((96.299018811, 35.891108478), (96.479545492, 35.952254918), (96.660473412, 35.892306123))
            ThreePointArc((96.660473412, 35.892306123), (96.805024404, 35.786626442), (96.952057114, 35.684427779))
            ThreePointArc((96.952057114, 35.684427779), (97.101487731, 35.585768389), (97.253231076, 35.490704508))
            ThreePointArc((97.253231076, 35.490704508), (97.37599094, 35.344900579), (97.386138294, 35.154569811))
            ThreePointArc((97.386138294, 35.154569811), (97.16431702, 33.727734502), (97.275859325, 32.288074128))
            ThreePointArc((97.275859325, 32.288074128), (97.341255121, 32.151876975), (97.46473831, 32.064824252))
            ThreePointArc((97.46473831, 32.064824252), (97.719883301, 31.972672762), (97.977323751, 31.887143364))
            ThreePointArc((97.977323751, 31.887143364), (98.128192922, 31.879095512), (98.263852376, 31.945599551))
            ThreePointArc((98.263852376, 31.945599551), (99.242481083, 33.007366725), (99.951327147, 34.265381405))
            ThreePointArc((99.951327147, 34.265381405), (100.077094619, 34.408599117), (100.263757191, 34.447145897))
            ThreePointArc((100.263757191, 34.447145897), (100.441781863, 34.427900105), (100.620215257, 34.412909822))
            ThreePointArc((100.620215257, 34.412909822), (100.798955662, 34.402183592), (100.977901194, 34.395727529))
            ThreePointArc((100.977901194, 34.395727529), (101.15711632, 34.330837554), (101.26106957, 34.171079951))
            ThreePointArc((101.26106957, 34.171079951), (101.782384366, 32.824493689), (102.598813023, 31.633482385))
            ThreePointArc((102.598813023, 31.633482385), (102.72354602, 31.548230089), (102.87401196, 31.534581813))
            ThreePointArc((102.87401196, 31.534581813), (103.141049749, 31.582348778), (103.406764418, 31.636998372))
            ThreePointArc((103.406764418, 31.636998372), (103.541444878, 31.705463312), (103.625677392, 31.830887227))
            ThreePointArc((103.625677392, 31.830887227), (103.942311126, 33.239718926), (103.927182485, 34.683614629))
            ThreePointArc((103.927182485, 34.683614629), (103.964491455, 34.870528542), (104.106872594, 34.997242319))
            ThreePointArc((104.106872594, 34.997242319), (104.270669379, 35.06958731), (104.432692372, 35.145822041))
            ThreePointArc((104.432692372, 35.145822041), (104.592849218, 35.225903055), (104.751048627, 35.309784707))
            ThreePointArc((104.751048627, 35.309784707), (104.938698466, 35.343195904), (105.108603422, 35.256818386))
            ThreePointArc((105.108603422, 35.256818386), (106.233368411, 34.351297873), (107.53592202, 33.728066155))
            ThreePointArc((107.53592202, 33.728066155), (107.686570112, 33.716602), (107.823701576, 33.780015217))
            ThreePointArc((107.823701576, 33.780015217), (108.031079603, 33.954901516), (108.233870459, 34.135086787))
            ThreePointArc((108.233870459, 34.135086787), (108.316274689, 34.261719395), (108.326510228, 34.412455948))
            ThreePointArc((108.326510228, 34.412455948), (107.896307236, 35.790856856), (107.161257597, 37.033742895))
            ThreePointArc((107.161257597, 37.033742895), (107.100111157, 37.214269577), (107.160059952, 37.395197496))
            ThreePointArc((107.160059952, 37.395197496), (107.265739633, 37.539748489), (107.367938296, 37.686781199))
            ThreePointArc((107.367938296, 37.686781199), (107.466597686, 37.836211815), (107.561661567, 37.987955161))
            ThreePointArc((107.561661567, 37.987955161), (107.707465496, 38.110715025), (107.897796264, 38.120862378))
            ThreePointArc((107.897796264, 38.120862378), (109.324631573, 37.899041104), (110.764291947, 38.010583409))
            ThreePointArc((110.764291947, 38.010583409), (110.9004891, 38.075979206), (110.987541823, 38.199462394))
            ThreePointArc((110.987541823, 38.199462394), (111.079693313, 38.454607385), (111.165222711, 38.712047836))
            ThreePointArc((111.165222711, 38.712047836), (111.173270563, 38.862917007), (111.106766523, 38.99857646))
            ThreePointArc((111.106766523, 38.99857646), (110.95766042, 39.16577253), (110.802658091, 39.327517495))
            ThreePointArc((110.802658091, 39.327517495), (110.731228871, 39.634793859), (110.974145272, 39.836071078))
        make_face()
        with Locations((101.158820995, 41.89354508)):
            Circle(ESQUISSE20_R, mode=Mode.SUBTRACT)
    extrude(amount=BOSS_EXTRU_18_DEPTH)


solid = part.part
